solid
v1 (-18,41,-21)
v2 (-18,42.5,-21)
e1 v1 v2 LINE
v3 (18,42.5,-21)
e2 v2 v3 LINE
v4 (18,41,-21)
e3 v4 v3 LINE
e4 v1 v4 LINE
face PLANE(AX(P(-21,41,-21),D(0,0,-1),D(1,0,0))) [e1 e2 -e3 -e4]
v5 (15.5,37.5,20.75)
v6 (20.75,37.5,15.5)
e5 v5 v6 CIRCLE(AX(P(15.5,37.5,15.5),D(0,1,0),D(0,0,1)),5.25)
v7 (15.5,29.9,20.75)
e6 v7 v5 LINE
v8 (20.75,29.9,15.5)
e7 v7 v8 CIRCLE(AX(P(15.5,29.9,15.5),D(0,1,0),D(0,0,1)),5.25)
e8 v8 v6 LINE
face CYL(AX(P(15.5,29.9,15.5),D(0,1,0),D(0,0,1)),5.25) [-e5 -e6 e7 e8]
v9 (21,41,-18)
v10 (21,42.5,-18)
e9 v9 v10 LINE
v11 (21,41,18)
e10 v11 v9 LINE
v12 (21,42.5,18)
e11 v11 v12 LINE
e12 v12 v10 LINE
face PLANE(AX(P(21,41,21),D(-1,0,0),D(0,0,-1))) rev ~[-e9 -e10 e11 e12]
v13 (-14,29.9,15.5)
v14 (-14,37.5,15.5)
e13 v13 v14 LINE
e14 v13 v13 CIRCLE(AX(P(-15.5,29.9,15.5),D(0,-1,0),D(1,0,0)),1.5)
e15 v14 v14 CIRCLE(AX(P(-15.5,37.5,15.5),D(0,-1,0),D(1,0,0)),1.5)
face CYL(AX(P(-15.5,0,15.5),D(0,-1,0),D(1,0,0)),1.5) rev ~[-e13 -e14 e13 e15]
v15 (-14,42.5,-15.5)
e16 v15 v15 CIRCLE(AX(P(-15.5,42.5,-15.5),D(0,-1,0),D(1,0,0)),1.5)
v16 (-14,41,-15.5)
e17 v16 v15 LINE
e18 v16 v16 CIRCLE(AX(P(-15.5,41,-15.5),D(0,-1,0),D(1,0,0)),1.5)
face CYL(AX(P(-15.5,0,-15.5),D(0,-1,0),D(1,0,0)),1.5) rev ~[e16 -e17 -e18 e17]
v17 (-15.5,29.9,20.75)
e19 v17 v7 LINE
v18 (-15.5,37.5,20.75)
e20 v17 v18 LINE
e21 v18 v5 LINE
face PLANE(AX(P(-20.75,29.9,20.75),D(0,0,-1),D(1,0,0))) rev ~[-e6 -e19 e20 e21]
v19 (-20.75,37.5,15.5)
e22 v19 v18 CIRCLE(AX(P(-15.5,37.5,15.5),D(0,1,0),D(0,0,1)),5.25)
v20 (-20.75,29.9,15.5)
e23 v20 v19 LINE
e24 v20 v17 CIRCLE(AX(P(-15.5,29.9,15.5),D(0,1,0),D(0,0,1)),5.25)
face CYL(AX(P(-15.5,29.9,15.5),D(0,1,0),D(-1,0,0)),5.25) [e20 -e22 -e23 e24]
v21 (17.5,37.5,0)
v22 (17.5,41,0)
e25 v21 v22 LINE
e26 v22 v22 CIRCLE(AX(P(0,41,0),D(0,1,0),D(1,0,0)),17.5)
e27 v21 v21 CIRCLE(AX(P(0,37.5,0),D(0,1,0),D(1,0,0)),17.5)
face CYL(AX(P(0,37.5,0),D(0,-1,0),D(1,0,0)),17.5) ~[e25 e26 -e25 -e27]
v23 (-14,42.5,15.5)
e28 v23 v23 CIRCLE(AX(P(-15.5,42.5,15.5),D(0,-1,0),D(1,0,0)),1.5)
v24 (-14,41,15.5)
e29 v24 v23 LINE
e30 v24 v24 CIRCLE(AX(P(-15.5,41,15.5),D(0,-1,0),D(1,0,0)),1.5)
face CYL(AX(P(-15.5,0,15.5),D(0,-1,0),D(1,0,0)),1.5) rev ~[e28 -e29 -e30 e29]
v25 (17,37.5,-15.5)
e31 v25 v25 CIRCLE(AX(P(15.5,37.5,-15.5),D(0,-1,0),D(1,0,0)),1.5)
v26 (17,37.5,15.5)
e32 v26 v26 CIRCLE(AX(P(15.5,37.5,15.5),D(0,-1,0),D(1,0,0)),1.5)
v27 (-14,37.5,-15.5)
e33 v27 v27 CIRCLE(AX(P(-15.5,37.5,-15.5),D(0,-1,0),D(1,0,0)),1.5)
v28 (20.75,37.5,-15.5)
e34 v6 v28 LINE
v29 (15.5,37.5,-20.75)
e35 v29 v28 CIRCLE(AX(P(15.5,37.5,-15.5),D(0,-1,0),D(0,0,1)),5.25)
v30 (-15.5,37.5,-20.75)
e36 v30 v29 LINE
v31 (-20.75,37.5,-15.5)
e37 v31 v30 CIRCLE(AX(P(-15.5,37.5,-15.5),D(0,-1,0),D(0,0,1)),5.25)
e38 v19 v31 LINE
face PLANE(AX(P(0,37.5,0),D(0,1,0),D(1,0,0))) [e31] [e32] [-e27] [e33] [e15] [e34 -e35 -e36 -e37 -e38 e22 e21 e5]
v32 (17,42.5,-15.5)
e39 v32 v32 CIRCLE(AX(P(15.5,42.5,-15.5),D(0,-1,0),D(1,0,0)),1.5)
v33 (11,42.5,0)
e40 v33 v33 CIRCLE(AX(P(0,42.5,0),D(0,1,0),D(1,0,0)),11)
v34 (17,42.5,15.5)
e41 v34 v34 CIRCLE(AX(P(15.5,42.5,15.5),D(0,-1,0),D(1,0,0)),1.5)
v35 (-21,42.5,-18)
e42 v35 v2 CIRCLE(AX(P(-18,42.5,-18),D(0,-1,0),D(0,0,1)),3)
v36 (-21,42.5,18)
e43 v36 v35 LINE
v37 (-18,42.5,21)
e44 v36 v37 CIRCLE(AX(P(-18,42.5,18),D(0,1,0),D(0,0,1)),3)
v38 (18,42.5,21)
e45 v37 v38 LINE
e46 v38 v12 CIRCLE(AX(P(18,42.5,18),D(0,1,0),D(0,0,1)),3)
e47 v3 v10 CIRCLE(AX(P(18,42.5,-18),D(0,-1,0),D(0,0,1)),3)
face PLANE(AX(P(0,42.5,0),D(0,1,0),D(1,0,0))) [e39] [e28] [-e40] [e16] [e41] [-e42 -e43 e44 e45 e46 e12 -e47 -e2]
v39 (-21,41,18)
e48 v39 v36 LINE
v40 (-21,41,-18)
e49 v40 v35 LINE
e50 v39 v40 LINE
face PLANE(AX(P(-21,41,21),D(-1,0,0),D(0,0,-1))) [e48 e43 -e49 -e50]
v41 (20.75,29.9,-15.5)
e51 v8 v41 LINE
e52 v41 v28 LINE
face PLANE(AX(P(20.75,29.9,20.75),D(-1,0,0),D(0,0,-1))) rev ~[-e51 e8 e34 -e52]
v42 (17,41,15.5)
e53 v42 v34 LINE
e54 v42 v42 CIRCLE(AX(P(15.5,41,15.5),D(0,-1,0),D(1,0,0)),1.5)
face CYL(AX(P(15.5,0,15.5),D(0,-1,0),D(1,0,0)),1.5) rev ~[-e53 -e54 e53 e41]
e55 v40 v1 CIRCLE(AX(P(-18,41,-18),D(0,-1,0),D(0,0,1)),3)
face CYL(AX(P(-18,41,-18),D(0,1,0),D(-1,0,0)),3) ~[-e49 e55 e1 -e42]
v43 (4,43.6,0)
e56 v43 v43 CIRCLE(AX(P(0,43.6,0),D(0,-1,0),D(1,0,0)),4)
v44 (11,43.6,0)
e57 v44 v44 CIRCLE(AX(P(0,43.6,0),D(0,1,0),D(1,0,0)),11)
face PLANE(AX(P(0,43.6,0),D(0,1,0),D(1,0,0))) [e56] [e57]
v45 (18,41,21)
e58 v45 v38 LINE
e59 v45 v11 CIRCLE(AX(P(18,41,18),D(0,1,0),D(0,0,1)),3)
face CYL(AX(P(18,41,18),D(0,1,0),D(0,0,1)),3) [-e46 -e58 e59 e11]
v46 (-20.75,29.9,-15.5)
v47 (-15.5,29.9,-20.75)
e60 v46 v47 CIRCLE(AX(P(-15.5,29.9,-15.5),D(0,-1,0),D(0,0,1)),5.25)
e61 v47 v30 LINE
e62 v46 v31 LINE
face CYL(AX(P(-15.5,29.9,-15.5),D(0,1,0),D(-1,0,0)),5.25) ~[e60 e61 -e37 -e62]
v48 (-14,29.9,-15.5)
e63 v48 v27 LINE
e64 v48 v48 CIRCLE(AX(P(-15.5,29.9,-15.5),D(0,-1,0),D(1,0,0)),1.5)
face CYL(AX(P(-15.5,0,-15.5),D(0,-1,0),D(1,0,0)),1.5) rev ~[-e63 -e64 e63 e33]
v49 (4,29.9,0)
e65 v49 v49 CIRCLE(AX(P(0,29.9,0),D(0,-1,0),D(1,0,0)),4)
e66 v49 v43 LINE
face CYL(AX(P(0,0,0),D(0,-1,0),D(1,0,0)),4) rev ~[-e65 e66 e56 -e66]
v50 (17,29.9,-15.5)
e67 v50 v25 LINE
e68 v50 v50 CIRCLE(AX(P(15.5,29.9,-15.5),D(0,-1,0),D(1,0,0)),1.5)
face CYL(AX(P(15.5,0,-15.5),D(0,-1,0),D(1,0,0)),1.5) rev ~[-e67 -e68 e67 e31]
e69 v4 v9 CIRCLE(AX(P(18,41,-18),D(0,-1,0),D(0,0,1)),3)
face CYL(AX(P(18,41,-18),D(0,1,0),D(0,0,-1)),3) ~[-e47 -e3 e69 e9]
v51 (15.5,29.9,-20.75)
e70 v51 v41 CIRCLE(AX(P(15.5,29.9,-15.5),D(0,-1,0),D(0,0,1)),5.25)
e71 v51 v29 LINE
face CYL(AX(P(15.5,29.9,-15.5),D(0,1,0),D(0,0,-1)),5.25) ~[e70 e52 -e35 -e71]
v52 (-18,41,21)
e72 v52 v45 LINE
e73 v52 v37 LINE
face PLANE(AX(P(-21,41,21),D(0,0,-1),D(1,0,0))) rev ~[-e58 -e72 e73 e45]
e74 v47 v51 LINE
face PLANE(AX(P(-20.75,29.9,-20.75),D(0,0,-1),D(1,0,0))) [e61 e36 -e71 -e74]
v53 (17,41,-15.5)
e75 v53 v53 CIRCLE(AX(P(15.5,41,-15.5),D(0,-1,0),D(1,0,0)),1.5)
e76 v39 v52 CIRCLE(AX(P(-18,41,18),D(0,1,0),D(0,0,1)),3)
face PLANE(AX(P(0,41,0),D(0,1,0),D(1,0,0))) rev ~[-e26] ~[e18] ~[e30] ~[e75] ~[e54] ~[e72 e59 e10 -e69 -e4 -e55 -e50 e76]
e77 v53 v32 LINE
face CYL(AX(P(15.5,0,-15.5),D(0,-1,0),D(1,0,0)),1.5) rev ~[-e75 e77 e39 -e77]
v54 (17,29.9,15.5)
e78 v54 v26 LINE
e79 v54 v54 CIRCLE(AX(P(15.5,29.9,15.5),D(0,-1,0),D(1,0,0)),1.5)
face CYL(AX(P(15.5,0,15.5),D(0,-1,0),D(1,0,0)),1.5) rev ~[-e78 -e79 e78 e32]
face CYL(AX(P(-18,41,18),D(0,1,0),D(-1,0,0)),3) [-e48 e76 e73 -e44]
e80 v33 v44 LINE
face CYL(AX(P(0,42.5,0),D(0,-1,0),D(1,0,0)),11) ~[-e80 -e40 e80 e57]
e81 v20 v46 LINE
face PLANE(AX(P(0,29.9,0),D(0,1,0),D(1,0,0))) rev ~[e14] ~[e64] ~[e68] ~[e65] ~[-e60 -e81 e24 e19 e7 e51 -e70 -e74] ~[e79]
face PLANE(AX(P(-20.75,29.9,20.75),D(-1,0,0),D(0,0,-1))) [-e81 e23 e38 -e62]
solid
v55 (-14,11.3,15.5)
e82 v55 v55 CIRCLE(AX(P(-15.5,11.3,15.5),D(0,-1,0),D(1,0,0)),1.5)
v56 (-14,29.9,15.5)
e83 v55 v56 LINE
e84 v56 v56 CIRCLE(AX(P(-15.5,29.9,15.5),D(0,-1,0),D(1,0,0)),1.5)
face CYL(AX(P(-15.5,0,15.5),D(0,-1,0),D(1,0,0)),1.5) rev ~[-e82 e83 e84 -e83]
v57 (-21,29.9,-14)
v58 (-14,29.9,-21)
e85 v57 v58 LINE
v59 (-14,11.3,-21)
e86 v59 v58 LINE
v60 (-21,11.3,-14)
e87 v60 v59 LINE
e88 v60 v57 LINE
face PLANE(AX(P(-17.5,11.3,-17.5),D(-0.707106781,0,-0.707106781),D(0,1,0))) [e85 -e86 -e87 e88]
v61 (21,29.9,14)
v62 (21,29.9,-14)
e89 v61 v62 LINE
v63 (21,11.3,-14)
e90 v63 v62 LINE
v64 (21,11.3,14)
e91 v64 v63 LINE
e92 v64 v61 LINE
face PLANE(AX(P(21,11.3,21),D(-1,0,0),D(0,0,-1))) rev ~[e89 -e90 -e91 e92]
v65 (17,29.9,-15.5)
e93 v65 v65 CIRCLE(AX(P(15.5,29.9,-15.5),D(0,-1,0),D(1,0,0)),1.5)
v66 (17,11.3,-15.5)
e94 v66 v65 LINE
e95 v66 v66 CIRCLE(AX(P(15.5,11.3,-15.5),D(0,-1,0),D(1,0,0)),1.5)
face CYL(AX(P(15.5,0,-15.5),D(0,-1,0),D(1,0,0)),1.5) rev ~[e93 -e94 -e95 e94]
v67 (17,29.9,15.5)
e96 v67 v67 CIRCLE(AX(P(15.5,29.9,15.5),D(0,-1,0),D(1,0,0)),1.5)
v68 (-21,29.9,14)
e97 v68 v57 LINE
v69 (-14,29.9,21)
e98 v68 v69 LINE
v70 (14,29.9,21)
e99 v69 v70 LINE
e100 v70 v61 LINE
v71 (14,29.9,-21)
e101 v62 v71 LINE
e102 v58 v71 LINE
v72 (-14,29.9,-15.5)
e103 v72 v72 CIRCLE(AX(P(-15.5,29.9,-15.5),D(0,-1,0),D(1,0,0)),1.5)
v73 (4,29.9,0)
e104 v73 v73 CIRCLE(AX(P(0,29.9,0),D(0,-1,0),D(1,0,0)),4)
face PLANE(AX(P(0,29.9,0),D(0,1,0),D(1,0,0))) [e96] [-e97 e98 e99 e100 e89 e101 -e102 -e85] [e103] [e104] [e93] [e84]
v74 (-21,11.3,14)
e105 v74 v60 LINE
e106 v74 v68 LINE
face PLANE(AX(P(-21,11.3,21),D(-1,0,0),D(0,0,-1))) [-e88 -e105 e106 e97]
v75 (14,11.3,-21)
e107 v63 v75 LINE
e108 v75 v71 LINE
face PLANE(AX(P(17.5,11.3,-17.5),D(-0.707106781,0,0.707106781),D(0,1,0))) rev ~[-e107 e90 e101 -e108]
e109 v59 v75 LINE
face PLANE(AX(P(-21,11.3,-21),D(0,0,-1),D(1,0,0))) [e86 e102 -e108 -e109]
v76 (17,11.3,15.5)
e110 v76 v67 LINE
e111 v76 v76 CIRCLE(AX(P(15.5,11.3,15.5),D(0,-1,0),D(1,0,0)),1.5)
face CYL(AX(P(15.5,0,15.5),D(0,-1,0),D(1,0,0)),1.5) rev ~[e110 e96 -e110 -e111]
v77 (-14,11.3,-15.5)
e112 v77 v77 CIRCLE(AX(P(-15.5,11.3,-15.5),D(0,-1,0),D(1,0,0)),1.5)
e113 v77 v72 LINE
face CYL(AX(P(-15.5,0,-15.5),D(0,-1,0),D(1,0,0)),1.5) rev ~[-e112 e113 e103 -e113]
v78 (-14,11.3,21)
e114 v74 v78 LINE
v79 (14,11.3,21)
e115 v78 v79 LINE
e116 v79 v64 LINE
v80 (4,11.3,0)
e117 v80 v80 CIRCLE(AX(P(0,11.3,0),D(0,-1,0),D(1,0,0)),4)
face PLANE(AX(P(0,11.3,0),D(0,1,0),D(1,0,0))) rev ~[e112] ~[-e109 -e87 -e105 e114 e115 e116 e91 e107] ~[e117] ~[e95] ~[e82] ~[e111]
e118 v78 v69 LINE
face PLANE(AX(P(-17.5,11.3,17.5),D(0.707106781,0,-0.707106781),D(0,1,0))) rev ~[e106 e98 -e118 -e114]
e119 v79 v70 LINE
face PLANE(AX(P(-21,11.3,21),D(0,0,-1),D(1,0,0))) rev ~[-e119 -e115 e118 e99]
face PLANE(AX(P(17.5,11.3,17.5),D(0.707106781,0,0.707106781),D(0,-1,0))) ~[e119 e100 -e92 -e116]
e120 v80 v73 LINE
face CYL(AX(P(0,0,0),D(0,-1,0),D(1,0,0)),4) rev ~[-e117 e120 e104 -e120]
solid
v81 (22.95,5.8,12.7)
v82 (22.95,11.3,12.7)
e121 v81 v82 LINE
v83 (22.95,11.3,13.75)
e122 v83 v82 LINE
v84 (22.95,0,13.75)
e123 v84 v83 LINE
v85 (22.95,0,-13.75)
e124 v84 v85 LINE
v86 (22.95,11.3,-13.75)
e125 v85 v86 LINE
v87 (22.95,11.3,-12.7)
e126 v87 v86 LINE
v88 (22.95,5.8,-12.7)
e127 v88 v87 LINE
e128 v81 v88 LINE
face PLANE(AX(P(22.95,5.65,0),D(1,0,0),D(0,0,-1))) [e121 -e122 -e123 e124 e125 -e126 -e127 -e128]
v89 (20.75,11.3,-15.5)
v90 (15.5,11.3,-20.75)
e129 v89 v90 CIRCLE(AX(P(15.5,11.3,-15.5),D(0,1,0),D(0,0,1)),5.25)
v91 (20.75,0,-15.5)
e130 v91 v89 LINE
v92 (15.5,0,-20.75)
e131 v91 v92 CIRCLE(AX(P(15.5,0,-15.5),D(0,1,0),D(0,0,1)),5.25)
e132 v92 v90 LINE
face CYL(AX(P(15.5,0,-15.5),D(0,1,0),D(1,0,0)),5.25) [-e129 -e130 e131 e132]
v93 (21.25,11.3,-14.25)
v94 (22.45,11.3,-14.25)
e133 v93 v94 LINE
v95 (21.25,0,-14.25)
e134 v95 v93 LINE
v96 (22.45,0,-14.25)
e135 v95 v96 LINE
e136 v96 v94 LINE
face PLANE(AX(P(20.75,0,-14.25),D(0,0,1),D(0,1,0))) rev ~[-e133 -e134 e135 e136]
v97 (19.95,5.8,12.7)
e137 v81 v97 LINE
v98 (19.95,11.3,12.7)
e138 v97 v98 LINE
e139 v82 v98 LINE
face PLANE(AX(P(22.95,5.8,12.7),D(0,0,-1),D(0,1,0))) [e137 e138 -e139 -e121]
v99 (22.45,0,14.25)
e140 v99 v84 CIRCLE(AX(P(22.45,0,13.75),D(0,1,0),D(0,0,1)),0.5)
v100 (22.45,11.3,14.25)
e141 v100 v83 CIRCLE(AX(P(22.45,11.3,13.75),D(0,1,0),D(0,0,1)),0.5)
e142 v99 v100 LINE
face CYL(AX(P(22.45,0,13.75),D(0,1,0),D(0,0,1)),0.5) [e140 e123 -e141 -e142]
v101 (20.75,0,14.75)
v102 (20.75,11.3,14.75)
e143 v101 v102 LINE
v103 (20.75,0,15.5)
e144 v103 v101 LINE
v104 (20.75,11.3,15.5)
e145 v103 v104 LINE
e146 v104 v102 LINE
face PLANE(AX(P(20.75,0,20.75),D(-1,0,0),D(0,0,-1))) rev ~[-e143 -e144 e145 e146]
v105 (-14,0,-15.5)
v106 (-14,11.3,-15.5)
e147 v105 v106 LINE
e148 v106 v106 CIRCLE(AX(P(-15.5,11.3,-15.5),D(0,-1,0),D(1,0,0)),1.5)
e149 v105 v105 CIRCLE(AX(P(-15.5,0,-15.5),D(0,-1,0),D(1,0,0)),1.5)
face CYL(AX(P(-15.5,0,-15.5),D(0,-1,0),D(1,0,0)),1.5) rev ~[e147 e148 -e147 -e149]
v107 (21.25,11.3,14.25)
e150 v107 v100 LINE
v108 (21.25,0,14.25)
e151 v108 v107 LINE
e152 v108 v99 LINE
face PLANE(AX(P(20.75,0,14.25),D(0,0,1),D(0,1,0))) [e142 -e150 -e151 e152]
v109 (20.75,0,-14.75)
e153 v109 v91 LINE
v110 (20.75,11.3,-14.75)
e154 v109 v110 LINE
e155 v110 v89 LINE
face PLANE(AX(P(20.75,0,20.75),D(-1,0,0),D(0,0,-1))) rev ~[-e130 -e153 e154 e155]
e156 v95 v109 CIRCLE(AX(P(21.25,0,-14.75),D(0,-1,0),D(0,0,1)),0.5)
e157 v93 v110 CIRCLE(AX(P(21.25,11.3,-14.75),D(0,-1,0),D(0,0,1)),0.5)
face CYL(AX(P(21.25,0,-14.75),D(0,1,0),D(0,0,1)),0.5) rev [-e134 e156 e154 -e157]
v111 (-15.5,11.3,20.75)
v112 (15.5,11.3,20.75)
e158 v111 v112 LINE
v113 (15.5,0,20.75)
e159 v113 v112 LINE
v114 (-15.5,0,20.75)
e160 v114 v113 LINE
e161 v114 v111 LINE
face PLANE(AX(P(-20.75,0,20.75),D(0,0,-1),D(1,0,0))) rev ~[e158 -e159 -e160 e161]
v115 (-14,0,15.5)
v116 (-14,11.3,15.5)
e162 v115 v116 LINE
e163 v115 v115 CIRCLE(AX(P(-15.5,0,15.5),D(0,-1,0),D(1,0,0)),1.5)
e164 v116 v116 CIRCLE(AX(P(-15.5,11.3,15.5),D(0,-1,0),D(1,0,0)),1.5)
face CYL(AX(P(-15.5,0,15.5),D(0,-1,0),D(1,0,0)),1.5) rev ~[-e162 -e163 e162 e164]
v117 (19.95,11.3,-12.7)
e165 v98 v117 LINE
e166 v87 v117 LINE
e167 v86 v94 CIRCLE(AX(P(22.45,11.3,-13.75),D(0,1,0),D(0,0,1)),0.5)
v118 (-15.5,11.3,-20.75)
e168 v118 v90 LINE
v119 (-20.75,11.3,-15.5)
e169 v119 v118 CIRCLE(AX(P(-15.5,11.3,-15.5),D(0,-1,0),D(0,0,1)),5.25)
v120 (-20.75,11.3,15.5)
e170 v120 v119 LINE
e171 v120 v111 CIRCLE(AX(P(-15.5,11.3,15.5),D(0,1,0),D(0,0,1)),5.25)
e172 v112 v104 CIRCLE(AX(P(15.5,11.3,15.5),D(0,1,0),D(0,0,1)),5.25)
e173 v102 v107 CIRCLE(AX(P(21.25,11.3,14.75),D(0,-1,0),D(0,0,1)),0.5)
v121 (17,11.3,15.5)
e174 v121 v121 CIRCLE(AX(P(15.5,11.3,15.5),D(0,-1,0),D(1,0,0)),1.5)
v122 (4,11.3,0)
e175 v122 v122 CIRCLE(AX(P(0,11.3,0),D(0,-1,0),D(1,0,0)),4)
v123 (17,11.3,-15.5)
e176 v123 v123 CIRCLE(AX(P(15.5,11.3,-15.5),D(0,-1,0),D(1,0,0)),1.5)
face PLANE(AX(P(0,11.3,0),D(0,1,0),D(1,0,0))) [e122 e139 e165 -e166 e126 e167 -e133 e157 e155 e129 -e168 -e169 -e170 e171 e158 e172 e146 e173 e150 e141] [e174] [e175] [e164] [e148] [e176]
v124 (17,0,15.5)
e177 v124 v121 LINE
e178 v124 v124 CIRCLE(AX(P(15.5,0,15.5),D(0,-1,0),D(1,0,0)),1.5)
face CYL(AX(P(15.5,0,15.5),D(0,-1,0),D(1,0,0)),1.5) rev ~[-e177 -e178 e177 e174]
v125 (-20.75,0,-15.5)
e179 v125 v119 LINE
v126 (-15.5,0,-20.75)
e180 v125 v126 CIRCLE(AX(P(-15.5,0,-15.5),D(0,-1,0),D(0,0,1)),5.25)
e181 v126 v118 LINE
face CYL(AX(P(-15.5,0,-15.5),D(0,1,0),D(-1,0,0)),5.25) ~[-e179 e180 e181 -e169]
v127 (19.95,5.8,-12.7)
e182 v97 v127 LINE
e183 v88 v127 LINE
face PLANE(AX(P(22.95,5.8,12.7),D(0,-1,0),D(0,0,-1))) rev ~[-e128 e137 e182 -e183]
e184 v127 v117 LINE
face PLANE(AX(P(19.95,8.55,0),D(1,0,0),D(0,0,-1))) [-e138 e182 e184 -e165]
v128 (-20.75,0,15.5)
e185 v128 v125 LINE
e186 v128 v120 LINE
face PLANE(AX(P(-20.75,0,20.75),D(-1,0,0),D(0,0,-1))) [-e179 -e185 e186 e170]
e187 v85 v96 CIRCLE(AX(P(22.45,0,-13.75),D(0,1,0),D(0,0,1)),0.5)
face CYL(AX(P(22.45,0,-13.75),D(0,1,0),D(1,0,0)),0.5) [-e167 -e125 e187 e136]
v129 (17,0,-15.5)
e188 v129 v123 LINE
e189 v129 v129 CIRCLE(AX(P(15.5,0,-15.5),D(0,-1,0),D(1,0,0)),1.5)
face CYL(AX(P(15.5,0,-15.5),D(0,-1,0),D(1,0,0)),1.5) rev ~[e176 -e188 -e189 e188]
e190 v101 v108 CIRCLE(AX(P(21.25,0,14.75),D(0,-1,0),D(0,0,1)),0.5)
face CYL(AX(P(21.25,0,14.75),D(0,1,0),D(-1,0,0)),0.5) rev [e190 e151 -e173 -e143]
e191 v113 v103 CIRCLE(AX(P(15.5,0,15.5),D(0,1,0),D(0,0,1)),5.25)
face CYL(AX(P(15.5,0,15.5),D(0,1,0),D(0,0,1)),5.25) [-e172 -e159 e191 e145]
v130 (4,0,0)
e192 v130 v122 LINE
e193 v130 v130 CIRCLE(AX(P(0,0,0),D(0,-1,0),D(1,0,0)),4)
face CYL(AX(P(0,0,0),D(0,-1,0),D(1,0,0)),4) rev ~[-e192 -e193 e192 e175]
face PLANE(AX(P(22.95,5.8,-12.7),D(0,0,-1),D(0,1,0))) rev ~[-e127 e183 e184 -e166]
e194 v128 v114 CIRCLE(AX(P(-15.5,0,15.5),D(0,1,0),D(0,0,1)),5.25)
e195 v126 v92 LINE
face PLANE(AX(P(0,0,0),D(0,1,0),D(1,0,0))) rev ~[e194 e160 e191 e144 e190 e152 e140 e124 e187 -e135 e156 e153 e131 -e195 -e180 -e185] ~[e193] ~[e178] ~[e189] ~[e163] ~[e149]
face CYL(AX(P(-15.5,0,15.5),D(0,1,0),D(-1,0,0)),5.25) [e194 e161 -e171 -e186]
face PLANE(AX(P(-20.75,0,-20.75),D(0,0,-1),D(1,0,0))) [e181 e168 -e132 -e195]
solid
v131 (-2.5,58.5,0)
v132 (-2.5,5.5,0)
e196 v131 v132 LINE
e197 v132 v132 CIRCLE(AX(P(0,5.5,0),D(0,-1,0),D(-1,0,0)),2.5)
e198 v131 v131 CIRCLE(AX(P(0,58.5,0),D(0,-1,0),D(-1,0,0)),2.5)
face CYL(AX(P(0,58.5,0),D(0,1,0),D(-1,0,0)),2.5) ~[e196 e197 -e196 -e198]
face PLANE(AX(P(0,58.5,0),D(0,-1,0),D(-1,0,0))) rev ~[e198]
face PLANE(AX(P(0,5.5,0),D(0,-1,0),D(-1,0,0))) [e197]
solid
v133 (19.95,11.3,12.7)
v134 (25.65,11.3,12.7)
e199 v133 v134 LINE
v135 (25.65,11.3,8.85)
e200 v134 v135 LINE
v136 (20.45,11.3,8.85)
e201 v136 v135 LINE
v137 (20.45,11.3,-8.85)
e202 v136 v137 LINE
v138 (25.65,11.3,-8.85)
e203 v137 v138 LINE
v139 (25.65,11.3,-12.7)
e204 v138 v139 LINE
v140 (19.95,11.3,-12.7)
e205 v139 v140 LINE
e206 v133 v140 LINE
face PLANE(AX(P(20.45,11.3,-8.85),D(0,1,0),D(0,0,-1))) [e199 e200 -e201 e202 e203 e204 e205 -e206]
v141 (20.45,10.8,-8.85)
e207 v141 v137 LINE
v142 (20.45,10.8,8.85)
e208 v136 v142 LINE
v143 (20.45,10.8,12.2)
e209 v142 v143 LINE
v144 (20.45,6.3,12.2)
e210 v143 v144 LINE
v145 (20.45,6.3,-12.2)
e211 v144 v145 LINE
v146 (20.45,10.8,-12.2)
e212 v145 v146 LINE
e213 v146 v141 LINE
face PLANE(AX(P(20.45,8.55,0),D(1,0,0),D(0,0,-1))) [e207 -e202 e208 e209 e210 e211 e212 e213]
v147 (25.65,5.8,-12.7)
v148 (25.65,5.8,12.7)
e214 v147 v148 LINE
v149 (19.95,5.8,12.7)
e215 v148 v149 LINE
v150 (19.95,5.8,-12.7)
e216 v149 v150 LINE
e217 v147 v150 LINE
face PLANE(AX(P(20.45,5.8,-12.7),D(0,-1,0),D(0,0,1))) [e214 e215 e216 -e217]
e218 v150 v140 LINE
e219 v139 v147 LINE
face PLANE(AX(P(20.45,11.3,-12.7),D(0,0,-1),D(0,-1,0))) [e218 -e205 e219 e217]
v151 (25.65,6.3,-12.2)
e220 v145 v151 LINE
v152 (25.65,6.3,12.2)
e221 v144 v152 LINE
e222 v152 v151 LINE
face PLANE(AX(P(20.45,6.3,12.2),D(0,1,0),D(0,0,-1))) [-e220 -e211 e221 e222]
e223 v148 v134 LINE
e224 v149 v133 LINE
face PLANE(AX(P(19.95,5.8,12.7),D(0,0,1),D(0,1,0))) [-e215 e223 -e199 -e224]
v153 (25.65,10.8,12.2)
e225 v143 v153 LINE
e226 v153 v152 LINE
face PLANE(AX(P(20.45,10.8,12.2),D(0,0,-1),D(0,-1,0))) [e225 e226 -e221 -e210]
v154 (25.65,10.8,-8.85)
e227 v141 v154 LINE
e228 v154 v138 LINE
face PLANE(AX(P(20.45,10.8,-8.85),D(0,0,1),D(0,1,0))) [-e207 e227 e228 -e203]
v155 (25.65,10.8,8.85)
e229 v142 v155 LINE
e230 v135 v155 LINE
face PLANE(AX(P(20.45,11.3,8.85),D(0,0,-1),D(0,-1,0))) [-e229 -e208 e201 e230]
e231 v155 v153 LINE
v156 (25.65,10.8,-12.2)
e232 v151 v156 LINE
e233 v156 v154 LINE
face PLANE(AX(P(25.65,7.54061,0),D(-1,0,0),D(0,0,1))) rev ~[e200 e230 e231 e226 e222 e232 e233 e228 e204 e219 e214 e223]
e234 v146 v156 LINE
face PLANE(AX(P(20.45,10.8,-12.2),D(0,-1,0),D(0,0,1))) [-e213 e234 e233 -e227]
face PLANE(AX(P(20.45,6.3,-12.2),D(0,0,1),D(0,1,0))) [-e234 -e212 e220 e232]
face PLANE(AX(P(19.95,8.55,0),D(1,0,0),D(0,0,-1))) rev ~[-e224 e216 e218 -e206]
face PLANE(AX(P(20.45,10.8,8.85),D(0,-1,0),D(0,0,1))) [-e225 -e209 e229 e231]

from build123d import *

# Parameters (mm, degrees)
SKETCH1_W            = 41.5
SKETCH1_H            = 41.5
BOSS_EXTRUDE1_DEPTH  = 11.3
SKETCH2_W            = 42
SKETCH2_H            = 42
BOSS_EXTRUDE2_DEPTH  = 18.6
CHAMFER1_SIZE        = 7
SKETCH6_W            = 41.5
SKETCH6_H            = 41.5
BOSS_EXTRUDE3_DEPTH  = 7.6
SKETCH7_R            = 17.5
BOSS_EXTRUDE4_DEPTH  = 3.5
SKETCH8_W            = 42
SKETCH8_H            = 42
BOSS_EXTRUDE5_DEPTH  = 1.5
FILLET1_R            = 5.25
FILLET2_R            = 5.25
FILLET3_R            = 3
SKETCH9_R            = 11
BOSS_EXTRUDE6_DEPTH  = 1.1
SKETCH4_R            = 1.5
SKETCH4_R_2          = 4
CUT_EXTRUDE1_DEPTH   = 44.6
SKETCH10_R           = 2.5
BOSS_EXTRUDE7_DEPTH  = 53
SKETCH11_W           = 28.5
SKETCH11_H           = 11.3
BOSS_EXTRUDE8_DEPTH  = 2.2
SKETCH12_W           = 25.4
SKETCH12_H           = 5.5
CUT_EXTRUDE2_DEPTH   = 3
FILLET4_R            = 0.5
SKETCH13_W           = 25.4
SKETCH13_H           = 5.5
BOSS_EXTRUDE9_DEPTH  = 0.5
BOSS_EXTRUDE10_DEPTH = 5.2


with BuildPart() as part:
    # Sketch1 → Boss-Extrude1 (new body)
    with BuildSketch(Plane(origin=(0, 0, 0), x_dir=(1, 0, 0), z_dir=(0, 1, 0))):
        Rectangle(SKETCH1_W, SKETCH1_H)
    extrude(amount=BOSS_EXTRUDE1_DEPTH)

    # Fillet1
    fillet1_edges = [part.edges().sort_by_distance(p)[0] for p in [
        (20.75, 5.65, 20.75),
        (-20.75, 5.65, 20.75),
        (-20.75, 5.65, -20.75),
        (20.75, 5.65, -20.75),
    ]]
    fillet(fillet1_edges, radius=FILLET1_R)


with BuildPart() as body_2:
    # Sketch2 → Boss-Extrude2 (new body)
    with BuildSketch(Plane(origin=(0, 11.3, 0), x_dir=(1, 0, 0), z_dir=(0, 1, 0))):
        Rectangle(SKETCH2_W, SKETCH2_H)
    extrude(amount=BOSS_EXTRUDE2_DEPTH)

    # Chamfer1
    chamfer1_edges = [body_2.edges().sort_by_distance(p)[0] for p in [
        (21, 20.6, 21),
        (-21, 20.6, 21),
        (-21, 20.6, -21),
        (21, 20.6, -21),
    ]]
    chamfer(chamfer1_edges, length=CHAMFER1_SIZE)


with BuildPart() as body_3:
    # Sketch6 → Boss-Extrude3 (new body)
    with BuildSketch(Plane(origin=(0, 29.9, 0), x_dir=(1, 0, 0), z_dir=(0, 1, 0))):
        Rectangle(SKETCH6_W, SKETCH6_H)
    extrude(amount=BOSS_EXTRUDE3_DEPTH)

    # Sketch7 → Boss-Extrude4 (add)
    with BuildSketch(Plane(origin=(0, 37.5, 0), x_dir=(1, 0, 0), z_dir=(0, 1, 0))):
        Circle(SKETCH7_R)
    extrude(amount=BOSS_EXTRUDE4_DEPTH)

    # Sketch8 → Boss-Extrude5 (add)
    with BuildSketch(Plane(origin=(0, 41, 0), x_dir=(1, 0, 0), z_dir=(0, 1, 0))):
        Rectangle(SKETCH8_W, SKETCH8_H)
    extrude(amount=BOSS_EXTRUDE5_DEPTH)

    # Fillet2
    fillet2_edges = [body_3.edges().sort_by_distance(p)[0] for p in [
        (20.75, 33.7, 20.75),
        (-20.75, 33.7, 20.75),
        (-20.75, 33.7, -20.75),
        (20.75, 33.7, -20.75),
    ]]
    fillet(fillet2_edges, radius=FILLET2_R)

    # Fillet3
    fillet3_edges = [body_3.edges().sort_by_distance(p)[0] for p in [
        (-21, 41.75, -21),
        (-21, 41.75, 21),
        (21, 41.75, 21),
        (21, 41.75, -21),
    ]]
    fillet(fillet3_edges, radius=FILLET3_R)

    # Sketch9 → Boss-Extrude6 (add)
    with BuildSketch(Plane(origin=(0, 42.5, 0), x_dir=(1, 0, 0), z_dir=(0, 1, 0))):
        Circle(SKETCH9_R)
    extrude(amount=BOSS_EXTRUDE6_DEPTH)


with BuildPart() as cut_extrude1_tool:
    # Sketch4 → Cut-Extrude1 (new body, through all)
    with BuildSketch(Plane.XZ):
        with Locations((-15.5, -15.5)):
            Circle(SKETCH4_R)
        with Locations((15.5, -15.5)):
            Circle(SKETCH4_R)
        with Locations((15.5, 15.5)):
            Circle(SKETCH4_R)
        with Locations((-15.5, 15.5)):
            Circle(SKETCH4_R)
        Circle(SKETCH4_R_2)
    extrude(amount=-CUT_EXTRUDE1_DEPTH)


with BuildPart() as part_1:
    add(part.part)

    # Cut-Extrude1: cut by cut_extrude1_tool
    add(cut_extrude1_tool.part, mode=Mode.SUBTRACT)

    # Sketch11 → Boss-Extrude8 (add)
    with BuildSketch(Plane(origin=(20.75, 0, 0), x_dir=(0, 0, -1), z_dir=(1, 0, 0))):
        with Locations((0, 5.65)):
            Rectangle(SKETCH11_W, SKETCH11_H)
    extrude(amount=BOSS_EXTRUDE8_DEPTH)

    # Sketch12 → Cut-Extrude2 (cut)
    with BuildSketch(Plane(origin=(22.95, 0, 0), x_dir=(0, 0, -1), z_dir=(1, 0, 0))):
        with Locations((0, 8.55)):
            Rectangle(SKETCH12_W, SKETCH12_H)
    extrude(amount=-CUT_EXTRUDE2_DEPTH, mode=Mode.SUBTRACT)

    # Fillet4
    fillet4_edges = [part_1.edges().sort_by_distance(p)[0] for p in [
        (20.75, 5.65, 14.25),
        (20.75, 5.65, -14.25),
        (22.95, 5.65, 14.25),
        (22.95, 5.65, -14.25),
    ]]
    fillet(fillet4_edges, radius=FILLET4_R)


with BuildPart() as body_2_1:
    add(body_2.part)

    # Cut-Extrude1: cut by cut_extrude1_tool
    add(cut_extrude1_tool.part, mode=Mode.SUBTRACT)


with BuildPart() as body_3_1:
    add(body_3.part)

    # Cut-Extrude1: cut by cut_extrude1_tool
    add(cut_extrude1_tool.part, mode=Mode.SUBTRACT)


with BuildPart() as body_4:
    # Sketch10 → Boss-Extrude7 (new body)
    with BuildSketch(Plane(origin=(0, 58.5, 0), x_dir=(-1, 0, 0), z_dir=(0, -1, 0))):
        Circle(SKETCH10_R)
    extrude(amount=BOSS_EXTRUDE7_DEPTH)


with BuildPart() as body_5:
    # Sketch13 → Boss-Extrude9 (new body)
    with BuildSketch(Plane(origin=(19.95, 0, 0), x_dir=(0, 0, -1), z_dir=(1, 0, 0))):
        with Locations((0, 8.55)):
            Rectangle(SKETCH13_W, SKETCH13_H)
    extrude(amount=BOSS_EXTRUDE9_DEPTH)

    # Sketch14 → Boss-Extrude10 (add)
    with BuildSketch(Plane(origin=(20.45, 0, 0), x_dir=(0, 0, -1), z_dir=(1, 0, 0))):
        Polygon((8.85, 11.3), (12.7, 11.3), (12.7, 5.8), (-12.7, 5.8), (-12.7, 11.3), (-8.85, 11.3), (-8.85, 10.8), (-12.2, 10.8), (-12.2, 6.3), (12.2, 6.3), (12.2, 10.8), (8.85, 10.8), align=None)
    extrude(amount=BOSS_EXTRUDE10_DEPTH)


solid = Compound([part_1.part, body_2_1.part, body_3_1.part, body_4.part, body_5.part])
